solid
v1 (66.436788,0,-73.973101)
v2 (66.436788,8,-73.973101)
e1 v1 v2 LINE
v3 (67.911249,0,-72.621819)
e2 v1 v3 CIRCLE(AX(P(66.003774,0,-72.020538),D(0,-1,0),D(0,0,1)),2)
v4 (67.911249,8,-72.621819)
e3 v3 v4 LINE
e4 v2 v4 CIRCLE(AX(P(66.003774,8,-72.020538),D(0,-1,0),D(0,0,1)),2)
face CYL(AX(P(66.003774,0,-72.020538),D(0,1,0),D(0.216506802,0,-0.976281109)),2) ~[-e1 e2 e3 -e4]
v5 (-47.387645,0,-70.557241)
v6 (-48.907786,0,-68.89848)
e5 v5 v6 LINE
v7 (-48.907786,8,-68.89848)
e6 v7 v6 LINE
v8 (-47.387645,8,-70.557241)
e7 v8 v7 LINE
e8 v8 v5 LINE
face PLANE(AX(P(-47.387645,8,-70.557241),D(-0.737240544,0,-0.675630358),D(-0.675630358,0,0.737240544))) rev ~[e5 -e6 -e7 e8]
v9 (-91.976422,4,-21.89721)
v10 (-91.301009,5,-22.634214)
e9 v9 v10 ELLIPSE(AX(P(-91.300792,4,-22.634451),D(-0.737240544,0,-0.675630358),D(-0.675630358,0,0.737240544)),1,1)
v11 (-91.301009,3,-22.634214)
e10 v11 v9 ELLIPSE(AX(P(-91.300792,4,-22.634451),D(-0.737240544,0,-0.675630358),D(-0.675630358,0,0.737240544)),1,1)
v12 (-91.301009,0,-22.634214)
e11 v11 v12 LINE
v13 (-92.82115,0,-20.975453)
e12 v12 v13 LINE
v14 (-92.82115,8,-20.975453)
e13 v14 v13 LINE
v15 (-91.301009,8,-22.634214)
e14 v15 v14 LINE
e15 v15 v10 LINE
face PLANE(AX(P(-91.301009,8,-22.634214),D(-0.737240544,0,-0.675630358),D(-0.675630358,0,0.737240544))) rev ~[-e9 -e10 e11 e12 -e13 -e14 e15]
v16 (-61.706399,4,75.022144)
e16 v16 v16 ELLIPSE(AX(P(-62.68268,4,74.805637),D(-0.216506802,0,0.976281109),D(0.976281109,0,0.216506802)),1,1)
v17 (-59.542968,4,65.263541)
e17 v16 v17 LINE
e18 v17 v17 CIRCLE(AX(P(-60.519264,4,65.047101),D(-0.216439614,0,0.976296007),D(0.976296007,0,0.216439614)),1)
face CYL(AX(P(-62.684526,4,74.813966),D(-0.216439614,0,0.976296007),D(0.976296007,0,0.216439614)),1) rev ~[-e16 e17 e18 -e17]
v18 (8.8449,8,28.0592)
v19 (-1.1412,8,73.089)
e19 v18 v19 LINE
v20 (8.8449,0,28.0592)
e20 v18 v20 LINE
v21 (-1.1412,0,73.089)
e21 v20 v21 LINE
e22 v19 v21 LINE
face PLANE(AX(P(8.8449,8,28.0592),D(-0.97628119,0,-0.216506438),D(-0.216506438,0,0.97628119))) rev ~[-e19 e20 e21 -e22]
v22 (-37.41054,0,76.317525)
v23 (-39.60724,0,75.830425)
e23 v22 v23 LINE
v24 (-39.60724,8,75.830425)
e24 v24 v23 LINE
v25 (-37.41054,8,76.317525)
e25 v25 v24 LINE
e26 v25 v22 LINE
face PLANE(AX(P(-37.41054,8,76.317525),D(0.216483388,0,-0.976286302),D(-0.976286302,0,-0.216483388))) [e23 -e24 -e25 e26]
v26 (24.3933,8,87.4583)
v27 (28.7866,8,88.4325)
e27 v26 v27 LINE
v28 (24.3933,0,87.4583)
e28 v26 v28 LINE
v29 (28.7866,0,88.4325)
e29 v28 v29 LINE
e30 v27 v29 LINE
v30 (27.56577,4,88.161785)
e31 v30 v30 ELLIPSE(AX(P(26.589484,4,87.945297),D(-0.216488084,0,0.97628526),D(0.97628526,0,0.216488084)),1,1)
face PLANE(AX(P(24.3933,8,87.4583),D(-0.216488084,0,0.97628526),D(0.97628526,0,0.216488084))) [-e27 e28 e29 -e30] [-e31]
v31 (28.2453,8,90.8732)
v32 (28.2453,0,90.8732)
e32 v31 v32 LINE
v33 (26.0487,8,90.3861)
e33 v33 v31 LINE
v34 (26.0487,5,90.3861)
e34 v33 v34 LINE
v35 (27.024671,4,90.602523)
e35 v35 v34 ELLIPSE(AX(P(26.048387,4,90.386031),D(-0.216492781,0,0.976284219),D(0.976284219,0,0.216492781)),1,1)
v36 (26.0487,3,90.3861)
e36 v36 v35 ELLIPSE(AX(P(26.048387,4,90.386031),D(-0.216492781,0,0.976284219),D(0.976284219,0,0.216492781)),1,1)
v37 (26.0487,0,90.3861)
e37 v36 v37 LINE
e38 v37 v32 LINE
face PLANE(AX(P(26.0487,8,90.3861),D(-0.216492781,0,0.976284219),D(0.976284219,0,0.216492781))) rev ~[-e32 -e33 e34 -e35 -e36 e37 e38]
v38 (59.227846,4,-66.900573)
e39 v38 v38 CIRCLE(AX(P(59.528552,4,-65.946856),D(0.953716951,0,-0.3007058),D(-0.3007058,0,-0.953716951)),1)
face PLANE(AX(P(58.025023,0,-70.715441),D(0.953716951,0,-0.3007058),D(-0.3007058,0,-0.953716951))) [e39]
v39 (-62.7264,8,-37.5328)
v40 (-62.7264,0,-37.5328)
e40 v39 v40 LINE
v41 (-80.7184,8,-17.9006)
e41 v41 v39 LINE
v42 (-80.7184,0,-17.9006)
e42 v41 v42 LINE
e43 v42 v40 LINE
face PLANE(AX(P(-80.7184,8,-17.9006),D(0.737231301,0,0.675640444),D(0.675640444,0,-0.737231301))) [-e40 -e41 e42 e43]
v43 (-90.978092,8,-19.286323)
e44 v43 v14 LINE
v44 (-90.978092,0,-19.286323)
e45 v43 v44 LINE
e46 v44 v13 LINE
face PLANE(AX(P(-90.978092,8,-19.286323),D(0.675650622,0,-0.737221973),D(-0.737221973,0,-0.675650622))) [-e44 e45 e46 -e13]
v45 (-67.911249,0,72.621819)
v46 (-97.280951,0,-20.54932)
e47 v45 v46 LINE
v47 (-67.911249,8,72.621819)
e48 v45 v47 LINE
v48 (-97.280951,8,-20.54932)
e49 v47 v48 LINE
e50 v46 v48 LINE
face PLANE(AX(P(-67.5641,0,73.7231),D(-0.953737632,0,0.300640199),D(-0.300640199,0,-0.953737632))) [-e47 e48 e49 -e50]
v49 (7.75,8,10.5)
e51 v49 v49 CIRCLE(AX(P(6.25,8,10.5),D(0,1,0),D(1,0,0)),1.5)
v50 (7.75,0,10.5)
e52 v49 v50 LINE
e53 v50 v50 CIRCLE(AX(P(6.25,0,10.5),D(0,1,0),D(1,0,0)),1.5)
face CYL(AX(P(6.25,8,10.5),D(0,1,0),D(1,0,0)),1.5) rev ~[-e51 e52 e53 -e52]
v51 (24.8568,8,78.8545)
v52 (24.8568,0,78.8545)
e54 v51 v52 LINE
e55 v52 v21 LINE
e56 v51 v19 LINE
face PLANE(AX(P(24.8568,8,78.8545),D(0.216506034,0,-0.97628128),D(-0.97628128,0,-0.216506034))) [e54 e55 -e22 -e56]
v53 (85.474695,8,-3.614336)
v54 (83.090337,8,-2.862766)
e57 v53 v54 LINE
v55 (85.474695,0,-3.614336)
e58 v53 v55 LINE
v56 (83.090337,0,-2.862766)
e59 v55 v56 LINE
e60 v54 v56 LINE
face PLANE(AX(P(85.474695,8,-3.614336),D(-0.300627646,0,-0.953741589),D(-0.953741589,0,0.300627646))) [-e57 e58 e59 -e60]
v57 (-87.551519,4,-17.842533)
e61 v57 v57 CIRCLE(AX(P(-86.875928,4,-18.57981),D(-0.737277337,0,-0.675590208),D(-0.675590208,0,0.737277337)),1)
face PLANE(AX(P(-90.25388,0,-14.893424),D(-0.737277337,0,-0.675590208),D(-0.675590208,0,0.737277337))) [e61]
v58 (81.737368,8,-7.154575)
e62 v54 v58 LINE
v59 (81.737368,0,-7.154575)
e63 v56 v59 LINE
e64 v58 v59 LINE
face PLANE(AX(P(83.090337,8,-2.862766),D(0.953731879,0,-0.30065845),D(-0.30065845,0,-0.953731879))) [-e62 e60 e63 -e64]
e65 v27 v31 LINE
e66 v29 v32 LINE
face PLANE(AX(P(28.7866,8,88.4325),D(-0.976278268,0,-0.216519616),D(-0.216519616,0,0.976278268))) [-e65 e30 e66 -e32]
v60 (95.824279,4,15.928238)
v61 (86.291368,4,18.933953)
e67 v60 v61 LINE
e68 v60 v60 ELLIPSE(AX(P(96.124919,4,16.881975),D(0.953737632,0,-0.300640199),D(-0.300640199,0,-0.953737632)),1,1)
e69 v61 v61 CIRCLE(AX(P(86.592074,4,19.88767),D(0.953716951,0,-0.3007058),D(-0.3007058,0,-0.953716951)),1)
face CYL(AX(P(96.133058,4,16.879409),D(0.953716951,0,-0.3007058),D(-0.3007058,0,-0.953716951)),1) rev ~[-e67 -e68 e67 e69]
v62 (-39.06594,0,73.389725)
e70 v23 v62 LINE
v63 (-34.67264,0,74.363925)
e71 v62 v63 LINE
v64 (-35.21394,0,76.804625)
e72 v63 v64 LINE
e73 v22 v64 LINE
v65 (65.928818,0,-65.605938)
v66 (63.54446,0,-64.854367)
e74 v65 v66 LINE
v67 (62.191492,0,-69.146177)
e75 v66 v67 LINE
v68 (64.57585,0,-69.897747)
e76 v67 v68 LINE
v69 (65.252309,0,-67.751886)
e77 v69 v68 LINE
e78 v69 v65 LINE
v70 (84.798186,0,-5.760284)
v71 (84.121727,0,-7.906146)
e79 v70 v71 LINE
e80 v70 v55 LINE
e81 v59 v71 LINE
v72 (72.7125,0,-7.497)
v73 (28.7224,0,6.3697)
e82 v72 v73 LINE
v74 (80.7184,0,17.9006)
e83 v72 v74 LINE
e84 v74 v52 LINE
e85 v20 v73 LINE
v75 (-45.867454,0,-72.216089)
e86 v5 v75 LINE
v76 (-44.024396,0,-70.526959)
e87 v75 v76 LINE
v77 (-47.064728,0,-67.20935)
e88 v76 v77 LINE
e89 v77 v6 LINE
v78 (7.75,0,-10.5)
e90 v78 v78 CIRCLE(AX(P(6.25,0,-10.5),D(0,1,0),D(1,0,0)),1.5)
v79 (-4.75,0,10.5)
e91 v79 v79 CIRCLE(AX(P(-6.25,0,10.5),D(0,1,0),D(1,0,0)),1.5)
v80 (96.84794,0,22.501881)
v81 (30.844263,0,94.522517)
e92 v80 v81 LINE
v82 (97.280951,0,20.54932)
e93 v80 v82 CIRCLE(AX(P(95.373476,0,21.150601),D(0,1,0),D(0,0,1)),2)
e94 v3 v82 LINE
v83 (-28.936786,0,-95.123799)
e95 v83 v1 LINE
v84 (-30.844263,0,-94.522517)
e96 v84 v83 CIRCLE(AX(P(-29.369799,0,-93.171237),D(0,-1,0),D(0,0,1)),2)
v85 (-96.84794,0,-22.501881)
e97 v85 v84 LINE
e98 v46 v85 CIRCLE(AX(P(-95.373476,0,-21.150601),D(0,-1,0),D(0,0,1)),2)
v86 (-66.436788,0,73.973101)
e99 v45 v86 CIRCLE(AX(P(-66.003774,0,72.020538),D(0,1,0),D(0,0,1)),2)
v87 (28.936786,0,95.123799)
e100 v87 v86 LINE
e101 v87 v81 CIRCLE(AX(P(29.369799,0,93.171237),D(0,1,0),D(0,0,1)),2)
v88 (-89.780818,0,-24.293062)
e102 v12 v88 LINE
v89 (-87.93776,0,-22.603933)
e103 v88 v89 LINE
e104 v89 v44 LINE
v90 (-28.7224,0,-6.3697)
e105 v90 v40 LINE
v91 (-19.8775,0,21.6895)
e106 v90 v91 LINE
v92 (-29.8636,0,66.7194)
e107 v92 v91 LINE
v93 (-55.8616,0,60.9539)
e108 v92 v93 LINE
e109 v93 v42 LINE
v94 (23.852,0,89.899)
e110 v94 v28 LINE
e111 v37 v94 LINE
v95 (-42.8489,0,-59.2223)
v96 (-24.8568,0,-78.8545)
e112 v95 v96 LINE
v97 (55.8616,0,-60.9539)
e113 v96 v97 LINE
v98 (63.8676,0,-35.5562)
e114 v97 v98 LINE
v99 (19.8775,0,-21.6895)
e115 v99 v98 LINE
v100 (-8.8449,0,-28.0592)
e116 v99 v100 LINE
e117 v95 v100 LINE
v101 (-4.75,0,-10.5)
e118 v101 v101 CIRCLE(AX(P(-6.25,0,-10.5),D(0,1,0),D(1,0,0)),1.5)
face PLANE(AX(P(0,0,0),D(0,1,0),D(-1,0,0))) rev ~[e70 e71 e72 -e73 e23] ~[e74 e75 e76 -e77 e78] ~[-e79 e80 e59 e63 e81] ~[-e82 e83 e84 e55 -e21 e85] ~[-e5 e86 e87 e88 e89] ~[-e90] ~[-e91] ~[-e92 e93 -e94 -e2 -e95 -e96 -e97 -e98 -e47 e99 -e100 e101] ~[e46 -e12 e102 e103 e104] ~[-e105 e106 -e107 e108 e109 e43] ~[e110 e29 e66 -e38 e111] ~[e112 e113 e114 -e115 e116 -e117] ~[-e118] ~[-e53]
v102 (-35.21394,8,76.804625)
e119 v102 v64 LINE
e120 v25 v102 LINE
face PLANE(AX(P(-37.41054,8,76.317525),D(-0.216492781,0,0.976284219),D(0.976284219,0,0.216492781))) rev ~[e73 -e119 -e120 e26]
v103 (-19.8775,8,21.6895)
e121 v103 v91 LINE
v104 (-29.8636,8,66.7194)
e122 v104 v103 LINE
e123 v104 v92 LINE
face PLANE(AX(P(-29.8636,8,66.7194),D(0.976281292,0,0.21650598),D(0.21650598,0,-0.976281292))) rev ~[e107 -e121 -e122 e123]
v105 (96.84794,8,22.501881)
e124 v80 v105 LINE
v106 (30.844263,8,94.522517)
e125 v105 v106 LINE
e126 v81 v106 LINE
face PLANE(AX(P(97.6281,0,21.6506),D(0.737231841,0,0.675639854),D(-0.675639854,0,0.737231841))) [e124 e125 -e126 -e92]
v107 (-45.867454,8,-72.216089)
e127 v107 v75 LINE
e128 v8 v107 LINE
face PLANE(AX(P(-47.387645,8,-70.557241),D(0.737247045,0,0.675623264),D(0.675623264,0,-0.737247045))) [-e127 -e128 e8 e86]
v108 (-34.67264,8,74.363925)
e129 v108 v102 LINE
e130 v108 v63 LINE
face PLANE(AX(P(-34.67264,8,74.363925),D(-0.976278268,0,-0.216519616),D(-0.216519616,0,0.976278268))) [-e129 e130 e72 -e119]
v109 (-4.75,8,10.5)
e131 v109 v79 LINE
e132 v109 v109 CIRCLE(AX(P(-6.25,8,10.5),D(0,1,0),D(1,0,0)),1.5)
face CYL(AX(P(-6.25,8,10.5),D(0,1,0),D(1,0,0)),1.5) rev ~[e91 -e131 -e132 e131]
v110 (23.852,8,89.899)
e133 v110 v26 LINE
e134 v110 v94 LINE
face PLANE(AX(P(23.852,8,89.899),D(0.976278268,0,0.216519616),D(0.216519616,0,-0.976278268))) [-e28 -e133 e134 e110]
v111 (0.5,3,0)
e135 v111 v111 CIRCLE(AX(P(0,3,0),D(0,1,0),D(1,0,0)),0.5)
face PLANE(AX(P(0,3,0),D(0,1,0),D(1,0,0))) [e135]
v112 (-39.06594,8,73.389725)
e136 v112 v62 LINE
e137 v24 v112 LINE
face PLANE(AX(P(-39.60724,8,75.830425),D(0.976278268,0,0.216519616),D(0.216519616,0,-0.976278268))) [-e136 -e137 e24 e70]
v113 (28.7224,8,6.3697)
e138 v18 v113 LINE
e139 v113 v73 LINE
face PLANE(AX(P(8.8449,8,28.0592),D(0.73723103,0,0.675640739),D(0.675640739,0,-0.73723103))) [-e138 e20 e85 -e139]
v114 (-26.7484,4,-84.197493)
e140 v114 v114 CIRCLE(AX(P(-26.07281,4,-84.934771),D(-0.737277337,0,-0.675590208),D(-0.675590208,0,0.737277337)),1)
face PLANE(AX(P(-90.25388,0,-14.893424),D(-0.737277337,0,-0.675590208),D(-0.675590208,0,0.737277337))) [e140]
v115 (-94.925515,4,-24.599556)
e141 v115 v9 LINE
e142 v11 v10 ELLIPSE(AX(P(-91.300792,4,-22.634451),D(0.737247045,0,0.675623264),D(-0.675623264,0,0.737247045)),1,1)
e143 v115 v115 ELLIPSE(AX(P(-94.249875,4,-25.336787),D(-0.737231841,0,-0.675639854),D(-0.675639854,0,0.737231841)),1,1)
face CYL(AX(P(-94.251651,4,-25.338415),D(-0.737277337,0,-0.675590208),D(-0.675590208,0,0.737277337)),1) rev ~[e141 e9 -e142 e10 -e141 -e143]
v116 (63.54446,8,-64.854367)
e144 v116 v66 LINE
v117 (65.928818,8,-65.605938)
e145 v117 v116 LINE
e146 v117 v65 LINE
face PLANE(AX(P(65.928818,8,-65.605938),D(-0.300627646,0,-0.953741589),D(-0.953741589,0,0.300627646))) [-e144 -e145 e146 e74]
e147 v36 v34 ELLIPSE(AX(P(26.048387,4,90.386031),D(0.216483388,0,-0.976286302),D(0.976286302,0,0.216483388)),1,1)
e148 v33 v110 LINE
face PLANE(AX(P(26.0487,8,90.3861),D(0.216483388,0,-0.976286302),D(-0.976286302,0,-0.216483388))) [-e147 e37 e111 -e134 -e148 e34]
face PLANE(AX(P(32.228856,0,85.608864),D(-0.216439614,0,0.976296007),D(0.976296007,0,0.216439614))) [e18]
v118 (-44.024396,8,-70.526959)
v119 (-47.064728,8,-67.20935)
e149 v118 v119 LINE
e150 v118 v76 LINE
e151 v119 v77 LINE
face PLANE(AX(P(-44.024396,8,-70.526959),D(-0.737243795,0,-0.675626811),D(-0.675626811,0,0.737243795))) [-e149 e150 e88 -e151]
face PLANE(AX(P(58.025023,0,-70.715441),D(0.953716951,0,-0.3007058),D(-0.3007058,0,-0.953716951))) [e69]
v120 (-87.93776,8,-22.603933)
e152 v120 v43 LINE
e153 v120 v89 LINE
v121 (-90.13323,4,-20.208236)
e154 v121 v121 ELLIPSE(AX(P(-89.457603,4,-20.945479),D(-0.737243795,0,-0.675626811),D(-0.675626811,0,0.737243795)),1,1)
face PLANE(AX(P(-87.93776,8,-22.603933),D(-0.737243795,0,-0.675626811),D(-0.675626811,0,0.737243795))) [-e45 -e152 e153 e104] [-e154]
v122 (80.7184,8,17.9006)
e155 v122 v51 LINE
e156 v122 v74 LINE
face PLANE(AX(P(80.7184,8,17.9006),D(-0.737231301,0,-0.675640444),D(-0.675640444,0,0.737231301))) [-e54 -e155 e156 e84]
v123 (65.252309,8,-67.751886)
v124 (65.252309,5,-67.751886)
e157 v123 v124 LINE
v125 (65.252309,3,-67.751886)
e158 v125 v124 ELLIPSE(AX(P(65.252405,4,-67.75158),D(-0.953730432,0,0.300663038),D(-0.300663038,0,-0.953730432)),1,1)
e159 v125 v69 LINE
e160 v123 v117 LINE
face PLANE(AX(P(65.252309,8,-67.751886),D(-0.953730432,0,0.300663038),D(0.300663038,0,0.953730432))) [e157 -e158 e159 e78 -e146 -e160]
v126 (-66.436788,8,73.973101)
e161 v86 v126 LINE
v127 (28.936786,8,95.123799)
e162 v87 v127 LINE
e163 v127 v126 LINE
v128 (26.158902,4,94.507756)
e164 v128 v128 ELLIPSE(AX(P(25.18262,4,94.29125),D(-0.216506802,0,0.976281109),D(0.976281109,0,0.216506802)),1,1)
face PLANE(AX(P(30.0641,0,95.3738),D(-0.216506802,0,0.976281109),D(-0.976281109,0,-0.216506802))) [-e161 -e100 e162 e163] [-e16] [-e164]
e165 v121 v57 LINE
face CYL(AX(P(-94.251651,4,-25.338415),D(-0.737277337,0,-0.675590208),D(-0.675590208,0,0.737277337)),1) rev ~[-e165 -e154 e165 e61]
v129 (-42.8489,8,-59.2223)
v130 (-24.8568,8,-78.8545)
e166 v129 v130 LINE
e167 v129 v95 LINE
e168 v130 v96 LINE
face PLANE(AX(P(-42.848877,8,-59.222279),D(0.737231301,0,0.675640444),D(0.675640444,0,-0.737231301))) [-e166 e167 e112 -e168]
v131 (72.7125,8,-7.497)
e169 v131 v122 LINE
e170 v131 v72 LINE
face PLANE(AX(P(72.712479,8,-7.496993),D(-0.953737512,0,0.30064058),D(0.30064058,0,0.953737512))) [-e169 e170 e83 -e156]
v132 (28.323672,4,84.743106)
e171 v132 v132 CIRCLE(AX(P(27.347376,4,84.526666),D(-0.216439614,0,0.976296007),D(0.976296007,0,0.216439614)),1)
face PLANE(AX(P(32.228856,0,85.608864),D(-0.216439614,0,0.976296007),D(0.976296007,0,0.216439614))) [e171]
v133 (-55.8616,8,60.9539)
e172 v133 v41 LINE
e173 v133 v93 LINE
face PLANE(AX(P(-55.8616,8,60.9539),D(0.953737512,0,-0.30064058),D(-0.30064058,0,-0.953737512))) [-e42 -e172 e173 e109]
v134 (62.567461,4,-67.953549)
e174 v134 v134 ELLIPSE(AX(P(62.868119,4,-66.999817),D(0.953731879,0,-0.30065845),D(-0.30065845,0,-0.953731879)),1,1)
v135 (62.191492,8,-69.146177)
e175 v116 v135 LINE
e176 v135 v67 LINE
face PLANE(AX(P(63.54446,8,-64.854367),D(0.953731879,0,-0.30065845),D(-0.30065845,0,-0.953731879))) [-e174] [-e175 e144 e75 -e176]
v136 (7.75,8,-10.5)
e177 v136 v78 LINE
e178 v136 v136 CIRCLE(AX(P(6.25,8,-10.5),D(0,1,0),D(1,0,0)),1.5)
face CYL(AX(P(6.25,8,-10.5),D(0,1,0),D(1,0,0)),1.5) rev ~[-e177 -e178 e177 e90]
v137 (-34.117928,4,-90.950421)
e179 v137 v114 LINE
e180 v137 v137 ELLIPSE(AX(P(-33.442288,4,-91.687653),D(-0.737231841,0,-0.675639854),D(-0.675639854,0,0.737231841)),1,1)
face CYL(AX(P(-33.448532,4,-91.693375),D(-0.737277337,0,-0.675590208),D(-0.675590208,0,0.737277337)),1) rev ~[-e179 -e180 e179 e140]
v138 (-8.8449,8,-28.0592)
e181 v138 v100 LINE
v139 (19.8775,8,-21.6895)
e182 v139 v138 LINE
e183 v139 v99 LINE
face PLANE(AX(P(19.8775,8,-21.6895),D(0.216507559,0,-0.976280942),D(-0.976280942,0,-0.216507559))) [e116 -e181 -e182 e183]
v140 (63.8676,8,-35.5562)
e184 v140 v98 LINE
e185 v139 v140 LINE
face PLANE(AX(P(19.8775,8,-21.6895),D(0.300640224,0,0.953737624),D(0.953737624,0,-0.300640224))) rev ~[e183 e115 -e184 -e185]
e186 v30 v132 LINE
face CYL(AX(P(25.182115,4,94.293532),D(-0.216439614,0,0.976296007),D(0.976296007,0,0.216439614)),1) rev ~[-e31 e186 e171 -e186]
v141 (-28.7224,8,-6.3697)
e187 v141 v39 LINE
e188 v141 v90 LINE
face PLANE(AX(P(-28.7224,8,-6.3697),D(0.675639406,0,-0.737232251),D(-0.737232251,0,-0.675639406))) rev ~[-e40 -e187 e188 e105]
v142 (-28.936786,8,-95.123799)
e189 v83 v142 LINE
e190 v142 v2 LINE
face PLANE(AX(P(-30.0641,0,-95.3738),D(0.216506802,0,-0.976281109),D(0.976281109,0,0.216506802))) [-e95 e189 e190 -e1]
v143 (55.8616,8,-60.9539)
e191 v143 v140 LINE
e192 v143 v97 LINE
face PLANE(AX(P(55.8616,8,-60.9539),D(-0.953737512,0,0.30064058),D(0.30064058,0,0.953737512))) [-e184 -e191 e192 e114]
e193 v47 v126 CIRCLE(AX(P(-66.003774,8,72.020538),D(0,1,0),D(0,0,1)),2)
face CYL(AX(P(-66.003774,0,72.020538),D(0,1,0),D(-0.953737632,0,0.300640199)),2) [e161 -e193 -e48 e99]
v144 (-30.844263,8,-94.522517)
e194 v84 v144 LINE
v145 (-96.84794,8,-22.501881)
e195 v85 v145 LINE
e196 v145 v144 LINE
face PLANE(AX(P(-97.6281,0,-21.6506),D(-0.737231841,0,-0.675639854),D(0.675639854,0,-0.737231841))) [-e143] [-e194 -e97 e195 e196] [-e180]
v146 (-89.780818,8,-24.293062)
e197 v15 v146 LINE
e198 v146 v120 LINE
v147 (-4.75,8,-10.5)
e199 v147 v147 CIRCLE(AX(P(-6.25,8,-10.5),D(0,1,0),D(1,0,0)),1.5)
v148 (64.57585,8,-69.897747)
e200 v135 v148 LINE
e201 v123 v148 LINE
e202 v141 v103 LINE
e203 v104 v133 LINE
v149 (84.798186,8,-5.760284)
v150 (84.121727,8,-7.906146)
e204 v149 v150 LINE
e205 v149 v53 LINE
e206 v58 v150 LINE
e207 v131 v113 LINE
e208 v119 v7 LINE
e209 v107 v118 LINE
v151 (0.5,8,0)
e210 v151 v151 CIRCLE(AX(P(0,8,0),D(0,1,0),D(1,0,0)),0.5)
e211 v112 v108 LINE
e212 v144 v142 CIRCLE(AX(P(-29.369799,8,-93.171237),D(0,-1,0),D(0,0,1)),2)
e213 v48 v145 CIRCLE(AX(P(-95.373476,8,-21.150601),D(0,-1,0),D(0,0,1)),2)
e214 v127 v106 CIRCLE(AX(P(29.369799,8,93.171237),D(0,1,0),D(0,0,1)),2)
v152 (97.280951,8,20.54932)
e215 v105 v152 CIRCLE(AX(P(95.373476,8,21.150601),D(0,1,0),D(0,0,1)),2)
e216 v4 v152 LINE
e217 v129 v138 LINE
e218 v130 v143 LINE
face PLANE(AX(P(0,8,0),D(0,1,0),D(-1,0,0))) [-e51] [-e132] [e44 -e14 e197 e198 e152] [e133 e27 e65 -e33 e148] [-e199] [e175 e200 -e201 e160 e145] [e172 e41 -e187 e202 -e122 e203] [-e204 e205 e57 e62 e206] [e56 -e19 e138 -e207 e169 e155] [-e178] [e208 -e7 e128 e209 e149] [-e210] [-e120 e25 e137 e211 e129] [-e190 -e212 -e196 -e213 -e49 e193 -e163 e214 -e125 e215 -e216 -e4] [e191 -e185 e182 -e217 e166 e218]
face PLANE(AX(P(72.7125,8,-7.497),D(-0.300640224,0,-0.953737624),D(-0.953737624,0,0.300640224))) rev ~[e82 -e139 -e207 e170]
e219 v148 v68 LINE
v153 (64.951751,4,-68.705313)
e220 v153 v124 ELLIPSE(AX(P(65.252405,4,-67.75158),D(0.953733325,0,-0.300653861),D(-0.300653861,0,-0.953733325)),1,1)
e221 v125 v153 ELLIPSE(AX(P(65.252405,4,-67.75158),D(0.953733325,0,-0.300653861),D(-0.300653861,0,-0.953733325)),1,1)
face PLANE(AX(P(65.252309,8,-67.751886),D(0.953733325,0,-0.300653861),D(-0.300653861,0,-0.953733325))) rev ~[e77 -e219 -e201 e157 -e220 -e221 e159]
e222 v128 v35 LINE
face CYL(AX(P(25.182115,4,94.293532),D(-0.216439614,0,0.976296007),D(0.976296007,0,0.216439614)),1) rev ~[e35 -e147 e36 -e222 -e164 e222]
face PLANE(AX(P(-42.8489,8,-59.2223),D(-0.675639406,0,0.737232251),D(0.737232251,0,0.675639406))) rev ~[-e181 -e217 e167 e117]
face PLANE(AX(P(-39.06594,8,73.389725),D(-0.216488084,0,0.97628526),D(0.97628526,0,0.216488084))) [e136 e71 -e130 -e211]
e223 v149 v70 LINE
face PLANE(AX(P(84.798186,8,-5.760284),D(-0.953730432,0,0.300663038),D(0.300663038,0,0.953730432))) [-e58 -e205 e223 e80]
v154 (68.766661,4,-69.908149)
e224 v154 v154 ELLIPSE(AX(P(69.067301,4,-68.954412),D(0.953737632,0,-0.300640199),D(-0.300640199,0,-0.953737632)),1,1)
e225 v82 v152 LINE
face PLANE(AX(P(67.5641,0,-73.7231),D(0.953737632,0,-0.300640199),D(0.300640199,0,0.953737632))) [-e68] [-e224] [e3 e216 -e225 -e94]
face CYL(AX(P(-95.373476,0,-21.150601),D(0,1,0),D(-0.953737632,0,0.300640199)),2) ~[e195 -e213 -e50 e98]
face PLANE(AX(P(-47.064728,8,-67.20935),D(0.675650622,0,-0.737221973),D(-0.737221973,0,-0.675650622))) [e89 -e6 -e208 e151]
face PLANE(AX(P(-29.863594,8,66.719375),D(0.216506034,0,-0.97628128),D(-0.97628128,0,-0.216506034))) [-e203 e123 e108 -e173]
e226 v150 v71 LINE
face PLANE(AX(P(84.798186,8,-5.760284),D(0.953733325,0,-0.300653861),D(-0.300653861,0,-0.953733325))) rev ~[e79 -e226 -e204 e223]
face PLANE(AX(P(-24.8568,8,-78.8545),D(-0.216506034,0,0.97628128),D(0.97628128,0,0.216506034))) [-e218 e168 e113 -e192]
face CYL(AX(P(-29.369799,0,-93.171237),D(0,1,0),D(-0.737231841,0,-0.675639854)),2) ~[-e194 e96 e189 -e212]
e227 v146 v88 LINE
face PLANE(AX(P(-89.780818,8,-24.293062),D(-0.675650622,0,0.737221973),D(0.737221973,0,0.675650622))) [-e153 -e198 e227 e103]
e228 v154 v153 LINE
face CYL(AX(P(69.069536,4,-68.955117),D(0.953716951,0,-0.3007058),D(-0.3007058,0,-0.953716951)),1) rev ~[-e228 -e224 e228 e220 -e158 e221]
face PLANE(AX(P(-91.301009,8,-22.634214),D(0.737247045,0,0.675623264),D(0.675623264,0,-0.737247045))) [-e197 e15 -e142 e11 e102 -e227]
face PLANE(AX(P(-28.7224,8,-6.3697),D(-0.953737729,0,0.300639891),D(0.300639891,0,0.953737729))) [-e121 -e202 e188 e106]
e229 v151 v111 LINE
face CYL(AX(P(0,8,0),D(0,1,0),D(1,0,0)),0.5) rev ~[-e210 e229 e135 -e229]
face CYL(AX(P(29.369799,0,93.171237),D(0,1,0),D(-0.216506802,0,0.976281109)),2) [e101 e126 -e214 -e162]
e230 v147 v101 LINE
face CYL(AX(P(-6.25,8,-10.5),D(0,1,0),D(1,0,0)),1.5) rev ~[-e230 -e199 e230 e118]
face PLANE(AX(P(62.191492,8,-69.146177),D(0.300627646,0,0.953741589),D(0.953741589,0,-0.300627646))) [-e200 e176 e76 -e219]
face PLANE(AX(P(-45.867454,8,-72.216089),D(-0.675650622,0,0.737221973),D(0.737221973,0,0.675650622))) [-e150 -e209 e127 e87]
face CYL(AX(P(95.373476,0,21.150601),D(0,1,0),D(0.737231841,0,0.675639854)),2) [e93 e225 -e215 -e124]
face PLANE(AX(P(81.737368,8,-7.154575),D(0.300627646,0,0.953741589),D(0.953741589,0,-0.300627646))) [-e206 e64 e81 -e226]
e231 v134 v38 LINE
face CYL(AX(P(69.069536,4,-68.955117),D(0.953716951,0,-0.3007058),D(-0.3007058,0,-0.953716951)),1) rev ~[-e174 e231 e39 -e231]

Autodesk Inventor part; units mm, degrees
ref_plane "YZ Plane" through (0, 0, 0) normal (1, 0, 0) x (0, 1, 0)
ref_plane "XZ Plane" through (0, 0, 0) normal (0, 1, 0) x (-1, 0, 0)
ref_plane "XY Plane" through (0, 0, 0) normal (0, 0, 1) x (1, 0, 0)
sketch "Sketch1" plane through (0, 0, 0) normal (0, 1, 0) x (-1, 0, 0)
  line L0 (67.5641, 73.7231) -> (97.6281, -21.6506)
  line L1 (97.6281, -21.6506) -> (30.0641, -95.3738)
  line L2 (30.0641, -95.3738) -> (-67.5641, -73.7231)
  line L3 (-67.5641, -73.7231) -> (-97.6281, 21.6506)
  line L4 (-97.6281, 21.6506) -> (-30.0641, 95.3738)
  line L5 (-30.0641, 95.3738) -> (67.5641, 73.7231)
  point P0 (0, 0)
  point P1 (0, 0)
  dimension "d0" = 100
  dimension "d17" = 21.6506
extrude "Extrusion1" add sketch "Sketch1" along normal blind 8
sketch "Sketch2" plane through (67.5641, 0, -73.7231) normal (0.9537, 0, -0.3006) x (-0.3006, 0, -0.9537)
  line L0 (0, 0) -> (0, 8) projected
  line L1 (0, 4) -> (-5, 4)
  line L2 (-100, 0) -> (-100, 8) projected
  line L3 (-100, 4) -> (-95, 4)
  circle A0 centre (-95, 4) radius 1
  circle A1 centre (-5, 4) radius 1
  point P0 (-50, 0)
  dimension "d4" = 5
  dimension "d5" = 5
  dimension "d6" = 2
  dimension "d7" = 2
extrude "Extrusion2" cut sketch "Sketch2" against normal blind 10
sketch "Sketch3" plane through (0, 8, 0) normal (0, 1, 0) x (1, 0, 0)
  circle A0 centre (0, 0) radius 0.5
  dimension "d10" = 1
extrude "Extrusion3" cut sketch "Sketch3" against normal blind 5
pattern_circular "Circular Pattern1" count 3 over 360 about axis through (0, 8, 0) along (0, -1, 0) of "Extrusion2"
sketch "Sketch4" plane through (0, 8, 0) normal (0, 1, 0) x (1, 0, 0)
  line L0 (0, 0) -> (0, 10.5)
  line L1 (0, 10.5) -> (-6.25, 10.5)
  circle A0 centre (-6.25, 10.5) radius 1.5
  circle A1 centre (6.25, 10.5) radius 1.5
  circle A2 centre (-6.25, -10.5) radius 1.5
  circle A3 centre (6.25, -10.5) radius 1.5
  dimension "d18" = 10.5
  dimension "d19" = 6.25
  dimension "d20" = 3
  dimension "d23" = 12.5
  dimension "d26" = 21
extrude "Extrusion4" cut sketch "Sketch4" against normal blind 8
sketch "Sketch5" plane through (0, 8, 0) normal (0, 1, 0) x (1, 0, 0)
  line L0 (-67.5641, -73.7231) -> (30.0641, -95.3738) projected
  line L1 (30.0641, -95.3738) -> (25.1827, -94.2912)
  line L2 (25.1827, -94.2912) -> (26.0487, -90.3861)
  line L3 (26.0487, -90.3861) -> (23.852, -89.899)
  line L4 (26.0487, -90.3861) -> (28.2453, -90.8732)
  line L5 (23.852, -89.899) -> (24.3933, -87.4583)
  line L6 (24.3933, -87.4583) -> (28.7866, -88.4325)
  line L7 (28.7866, -88.4325) -> (28.2453, -90.8732)
  point P0 (0, 0)
  dimension "d31" = 5
  dimension "d32" = 4
  dimension "d33" = 2.25
  dimension "d34" = 90
  dimension "d35" = 2.25
  dimension "d36" = 90
  dimension "d37" = 2.5
  dimension "d38" = 90
  dimension "d39" = 90
extrude "Extrusion5" cut sketch "Sketch5" against normal blind 8
pattern_linear "Rectangular Pattern1" count 2 spacing 65 along (-0.9763, 0, -0.2165) of "Extrusion5"
pattern_circular "Circular Pattern2" count 3 over 360 about axis through (0, 8, 0) along (0, -1, 0) of "Extrusion5", "Rectangular Pattern1"
sketch "Sketch6" plane through (0, 8, 0) normal (0, 1, 0) x (1, 0, 0)
  line L0 (-97.6281, 21.6506) -> (-30.0641, 95.3738) projected
  line L1 (-97.6281, 21.6506) -> (-30.0641, 95.3738)
  line L2 (-30.0641, 95.3738) -> (67.5641, 73.7231) projected
  line L3 (-30.0641, 95.3738) -> (67.5641, 73.7231)
  line L4 (67.5641, 73.7231) -> (97.6281, -21.6506) projected
  line L5 (67.5641, 73.7231) -> (97.6281, -21.6506)
  line L6 (97.6281, -21.6506) -> (30.0641, -95.3738) projected
  line L7 (97.6281, -21.6506) -> (30.0641, -95.3738)
  line L8 (30.0641, -95.3738) -> (-67.5641, -73.7231)
  line L9 (-61.7064, -75.0222) -> (-63.6589, -74.5891) projected
  line L10 (-67.5641, -73.7231) -> (-97.6281, 21.6506)
  line L11 (-80.7184, 17.9006) -> (-24.8568, 78.8545)
  line L12 (-24.8568, 78.8545) -> (55.8616, 60.9539)
  line L13 (55.8616, 60.9539) -> (80.7184, -17.9006)
  line L14 (80.7184, -17.9006) -> (24.8568, -78.8545)
  line L15 (24.8568, -78.8545) -> (-55.8616, -60.9539)
  line L16 (-55.8616, -60.9539) -> (-80.7184, 17.9006)
  line L17 (0, 0) -> (30, 0) construction
  line L18 (8.8449, -28.0592) -> (28.7224, -6.3697)
  line L19 (28.7224, -6.3697) -> (19.8775, 21.6895)
  line L20 (19.8775, 21.6895) -> (-8.8449, 28.0592)
  line L21 (-8.8449, 28.0592) -> (-28.7224, 6.3697)
  line L22 (-28.7224, 6.3697) -> (-19.8775, -21.6895)
  line L23 (-19.8775, -21.6895) -> (8.8449, -28.0592)
  line L24 (28.7224, -6.3697) -> (19.8775, 21.6895)
  line L25 (-8.8449, 28.0592) -> (-28.7224, 6.3697)
  line L26 (-19.8775, -21.6895) -> (8.8449, -28.0592)
  line L27 (0, 0) -> (8.8449, -28.0592)
  line L28 (-8.8449, 28.0592) -> (-28.7224, 6.3697)
  line L29 (-28.7224, 6.3697) -> (-62.7264, 37.5328)
  line L30 (-62.7264, 37.5328) -> (-42.8489, 59.2223)
  line L31 (-42.8489, 59.2223) -> (-8.8449, 28.0592)
  line L32 (-19.8775, -21.6895) -> (8.8449, -28.0592)
  line L33 (8.8449, -28.0592) -> (-1.1412, -73.089)
  line L34 (-1.1412, -73.089) -> (-29.8636, -66.7194)
  line L35 (-29.8636, -66.7194) -> (-19.8775, -21.6895)
  line L36 (28.7224, -6.3697) -> (19.8775, 21.6895)
  line L37 (19.8775, 21.6895) -> (63.8676, 35.5562)
  line L38 (63.8676, 35.5562) -> (72.7125, 7.497)
  line L39 (72.7125, 7.497) -> (28.7224, -6.3697)
  dimension "d50" = 15
  dimension "d53" = 28.7224
fillet "Fillet2" radius 2 6 edges at (-97.6281, 4, -21.6506) (-67.5641, 4, 73.7231) (30.0641, 4, 95.3738) (97.6281, 4, 21.6506) (67.5641, 4, -73.7231) (-30.0641, 4, -95.3738)
extrude "Extrusion7" cut sketch "Sketch6" against normal blind 10 contours L11 L29 L22 L35 L15 L16 | L11 L12 L13 L37 L20 L31 | L33 L18 L39 L13 L14 L15
properties part number "Hex_Servo_Top"
